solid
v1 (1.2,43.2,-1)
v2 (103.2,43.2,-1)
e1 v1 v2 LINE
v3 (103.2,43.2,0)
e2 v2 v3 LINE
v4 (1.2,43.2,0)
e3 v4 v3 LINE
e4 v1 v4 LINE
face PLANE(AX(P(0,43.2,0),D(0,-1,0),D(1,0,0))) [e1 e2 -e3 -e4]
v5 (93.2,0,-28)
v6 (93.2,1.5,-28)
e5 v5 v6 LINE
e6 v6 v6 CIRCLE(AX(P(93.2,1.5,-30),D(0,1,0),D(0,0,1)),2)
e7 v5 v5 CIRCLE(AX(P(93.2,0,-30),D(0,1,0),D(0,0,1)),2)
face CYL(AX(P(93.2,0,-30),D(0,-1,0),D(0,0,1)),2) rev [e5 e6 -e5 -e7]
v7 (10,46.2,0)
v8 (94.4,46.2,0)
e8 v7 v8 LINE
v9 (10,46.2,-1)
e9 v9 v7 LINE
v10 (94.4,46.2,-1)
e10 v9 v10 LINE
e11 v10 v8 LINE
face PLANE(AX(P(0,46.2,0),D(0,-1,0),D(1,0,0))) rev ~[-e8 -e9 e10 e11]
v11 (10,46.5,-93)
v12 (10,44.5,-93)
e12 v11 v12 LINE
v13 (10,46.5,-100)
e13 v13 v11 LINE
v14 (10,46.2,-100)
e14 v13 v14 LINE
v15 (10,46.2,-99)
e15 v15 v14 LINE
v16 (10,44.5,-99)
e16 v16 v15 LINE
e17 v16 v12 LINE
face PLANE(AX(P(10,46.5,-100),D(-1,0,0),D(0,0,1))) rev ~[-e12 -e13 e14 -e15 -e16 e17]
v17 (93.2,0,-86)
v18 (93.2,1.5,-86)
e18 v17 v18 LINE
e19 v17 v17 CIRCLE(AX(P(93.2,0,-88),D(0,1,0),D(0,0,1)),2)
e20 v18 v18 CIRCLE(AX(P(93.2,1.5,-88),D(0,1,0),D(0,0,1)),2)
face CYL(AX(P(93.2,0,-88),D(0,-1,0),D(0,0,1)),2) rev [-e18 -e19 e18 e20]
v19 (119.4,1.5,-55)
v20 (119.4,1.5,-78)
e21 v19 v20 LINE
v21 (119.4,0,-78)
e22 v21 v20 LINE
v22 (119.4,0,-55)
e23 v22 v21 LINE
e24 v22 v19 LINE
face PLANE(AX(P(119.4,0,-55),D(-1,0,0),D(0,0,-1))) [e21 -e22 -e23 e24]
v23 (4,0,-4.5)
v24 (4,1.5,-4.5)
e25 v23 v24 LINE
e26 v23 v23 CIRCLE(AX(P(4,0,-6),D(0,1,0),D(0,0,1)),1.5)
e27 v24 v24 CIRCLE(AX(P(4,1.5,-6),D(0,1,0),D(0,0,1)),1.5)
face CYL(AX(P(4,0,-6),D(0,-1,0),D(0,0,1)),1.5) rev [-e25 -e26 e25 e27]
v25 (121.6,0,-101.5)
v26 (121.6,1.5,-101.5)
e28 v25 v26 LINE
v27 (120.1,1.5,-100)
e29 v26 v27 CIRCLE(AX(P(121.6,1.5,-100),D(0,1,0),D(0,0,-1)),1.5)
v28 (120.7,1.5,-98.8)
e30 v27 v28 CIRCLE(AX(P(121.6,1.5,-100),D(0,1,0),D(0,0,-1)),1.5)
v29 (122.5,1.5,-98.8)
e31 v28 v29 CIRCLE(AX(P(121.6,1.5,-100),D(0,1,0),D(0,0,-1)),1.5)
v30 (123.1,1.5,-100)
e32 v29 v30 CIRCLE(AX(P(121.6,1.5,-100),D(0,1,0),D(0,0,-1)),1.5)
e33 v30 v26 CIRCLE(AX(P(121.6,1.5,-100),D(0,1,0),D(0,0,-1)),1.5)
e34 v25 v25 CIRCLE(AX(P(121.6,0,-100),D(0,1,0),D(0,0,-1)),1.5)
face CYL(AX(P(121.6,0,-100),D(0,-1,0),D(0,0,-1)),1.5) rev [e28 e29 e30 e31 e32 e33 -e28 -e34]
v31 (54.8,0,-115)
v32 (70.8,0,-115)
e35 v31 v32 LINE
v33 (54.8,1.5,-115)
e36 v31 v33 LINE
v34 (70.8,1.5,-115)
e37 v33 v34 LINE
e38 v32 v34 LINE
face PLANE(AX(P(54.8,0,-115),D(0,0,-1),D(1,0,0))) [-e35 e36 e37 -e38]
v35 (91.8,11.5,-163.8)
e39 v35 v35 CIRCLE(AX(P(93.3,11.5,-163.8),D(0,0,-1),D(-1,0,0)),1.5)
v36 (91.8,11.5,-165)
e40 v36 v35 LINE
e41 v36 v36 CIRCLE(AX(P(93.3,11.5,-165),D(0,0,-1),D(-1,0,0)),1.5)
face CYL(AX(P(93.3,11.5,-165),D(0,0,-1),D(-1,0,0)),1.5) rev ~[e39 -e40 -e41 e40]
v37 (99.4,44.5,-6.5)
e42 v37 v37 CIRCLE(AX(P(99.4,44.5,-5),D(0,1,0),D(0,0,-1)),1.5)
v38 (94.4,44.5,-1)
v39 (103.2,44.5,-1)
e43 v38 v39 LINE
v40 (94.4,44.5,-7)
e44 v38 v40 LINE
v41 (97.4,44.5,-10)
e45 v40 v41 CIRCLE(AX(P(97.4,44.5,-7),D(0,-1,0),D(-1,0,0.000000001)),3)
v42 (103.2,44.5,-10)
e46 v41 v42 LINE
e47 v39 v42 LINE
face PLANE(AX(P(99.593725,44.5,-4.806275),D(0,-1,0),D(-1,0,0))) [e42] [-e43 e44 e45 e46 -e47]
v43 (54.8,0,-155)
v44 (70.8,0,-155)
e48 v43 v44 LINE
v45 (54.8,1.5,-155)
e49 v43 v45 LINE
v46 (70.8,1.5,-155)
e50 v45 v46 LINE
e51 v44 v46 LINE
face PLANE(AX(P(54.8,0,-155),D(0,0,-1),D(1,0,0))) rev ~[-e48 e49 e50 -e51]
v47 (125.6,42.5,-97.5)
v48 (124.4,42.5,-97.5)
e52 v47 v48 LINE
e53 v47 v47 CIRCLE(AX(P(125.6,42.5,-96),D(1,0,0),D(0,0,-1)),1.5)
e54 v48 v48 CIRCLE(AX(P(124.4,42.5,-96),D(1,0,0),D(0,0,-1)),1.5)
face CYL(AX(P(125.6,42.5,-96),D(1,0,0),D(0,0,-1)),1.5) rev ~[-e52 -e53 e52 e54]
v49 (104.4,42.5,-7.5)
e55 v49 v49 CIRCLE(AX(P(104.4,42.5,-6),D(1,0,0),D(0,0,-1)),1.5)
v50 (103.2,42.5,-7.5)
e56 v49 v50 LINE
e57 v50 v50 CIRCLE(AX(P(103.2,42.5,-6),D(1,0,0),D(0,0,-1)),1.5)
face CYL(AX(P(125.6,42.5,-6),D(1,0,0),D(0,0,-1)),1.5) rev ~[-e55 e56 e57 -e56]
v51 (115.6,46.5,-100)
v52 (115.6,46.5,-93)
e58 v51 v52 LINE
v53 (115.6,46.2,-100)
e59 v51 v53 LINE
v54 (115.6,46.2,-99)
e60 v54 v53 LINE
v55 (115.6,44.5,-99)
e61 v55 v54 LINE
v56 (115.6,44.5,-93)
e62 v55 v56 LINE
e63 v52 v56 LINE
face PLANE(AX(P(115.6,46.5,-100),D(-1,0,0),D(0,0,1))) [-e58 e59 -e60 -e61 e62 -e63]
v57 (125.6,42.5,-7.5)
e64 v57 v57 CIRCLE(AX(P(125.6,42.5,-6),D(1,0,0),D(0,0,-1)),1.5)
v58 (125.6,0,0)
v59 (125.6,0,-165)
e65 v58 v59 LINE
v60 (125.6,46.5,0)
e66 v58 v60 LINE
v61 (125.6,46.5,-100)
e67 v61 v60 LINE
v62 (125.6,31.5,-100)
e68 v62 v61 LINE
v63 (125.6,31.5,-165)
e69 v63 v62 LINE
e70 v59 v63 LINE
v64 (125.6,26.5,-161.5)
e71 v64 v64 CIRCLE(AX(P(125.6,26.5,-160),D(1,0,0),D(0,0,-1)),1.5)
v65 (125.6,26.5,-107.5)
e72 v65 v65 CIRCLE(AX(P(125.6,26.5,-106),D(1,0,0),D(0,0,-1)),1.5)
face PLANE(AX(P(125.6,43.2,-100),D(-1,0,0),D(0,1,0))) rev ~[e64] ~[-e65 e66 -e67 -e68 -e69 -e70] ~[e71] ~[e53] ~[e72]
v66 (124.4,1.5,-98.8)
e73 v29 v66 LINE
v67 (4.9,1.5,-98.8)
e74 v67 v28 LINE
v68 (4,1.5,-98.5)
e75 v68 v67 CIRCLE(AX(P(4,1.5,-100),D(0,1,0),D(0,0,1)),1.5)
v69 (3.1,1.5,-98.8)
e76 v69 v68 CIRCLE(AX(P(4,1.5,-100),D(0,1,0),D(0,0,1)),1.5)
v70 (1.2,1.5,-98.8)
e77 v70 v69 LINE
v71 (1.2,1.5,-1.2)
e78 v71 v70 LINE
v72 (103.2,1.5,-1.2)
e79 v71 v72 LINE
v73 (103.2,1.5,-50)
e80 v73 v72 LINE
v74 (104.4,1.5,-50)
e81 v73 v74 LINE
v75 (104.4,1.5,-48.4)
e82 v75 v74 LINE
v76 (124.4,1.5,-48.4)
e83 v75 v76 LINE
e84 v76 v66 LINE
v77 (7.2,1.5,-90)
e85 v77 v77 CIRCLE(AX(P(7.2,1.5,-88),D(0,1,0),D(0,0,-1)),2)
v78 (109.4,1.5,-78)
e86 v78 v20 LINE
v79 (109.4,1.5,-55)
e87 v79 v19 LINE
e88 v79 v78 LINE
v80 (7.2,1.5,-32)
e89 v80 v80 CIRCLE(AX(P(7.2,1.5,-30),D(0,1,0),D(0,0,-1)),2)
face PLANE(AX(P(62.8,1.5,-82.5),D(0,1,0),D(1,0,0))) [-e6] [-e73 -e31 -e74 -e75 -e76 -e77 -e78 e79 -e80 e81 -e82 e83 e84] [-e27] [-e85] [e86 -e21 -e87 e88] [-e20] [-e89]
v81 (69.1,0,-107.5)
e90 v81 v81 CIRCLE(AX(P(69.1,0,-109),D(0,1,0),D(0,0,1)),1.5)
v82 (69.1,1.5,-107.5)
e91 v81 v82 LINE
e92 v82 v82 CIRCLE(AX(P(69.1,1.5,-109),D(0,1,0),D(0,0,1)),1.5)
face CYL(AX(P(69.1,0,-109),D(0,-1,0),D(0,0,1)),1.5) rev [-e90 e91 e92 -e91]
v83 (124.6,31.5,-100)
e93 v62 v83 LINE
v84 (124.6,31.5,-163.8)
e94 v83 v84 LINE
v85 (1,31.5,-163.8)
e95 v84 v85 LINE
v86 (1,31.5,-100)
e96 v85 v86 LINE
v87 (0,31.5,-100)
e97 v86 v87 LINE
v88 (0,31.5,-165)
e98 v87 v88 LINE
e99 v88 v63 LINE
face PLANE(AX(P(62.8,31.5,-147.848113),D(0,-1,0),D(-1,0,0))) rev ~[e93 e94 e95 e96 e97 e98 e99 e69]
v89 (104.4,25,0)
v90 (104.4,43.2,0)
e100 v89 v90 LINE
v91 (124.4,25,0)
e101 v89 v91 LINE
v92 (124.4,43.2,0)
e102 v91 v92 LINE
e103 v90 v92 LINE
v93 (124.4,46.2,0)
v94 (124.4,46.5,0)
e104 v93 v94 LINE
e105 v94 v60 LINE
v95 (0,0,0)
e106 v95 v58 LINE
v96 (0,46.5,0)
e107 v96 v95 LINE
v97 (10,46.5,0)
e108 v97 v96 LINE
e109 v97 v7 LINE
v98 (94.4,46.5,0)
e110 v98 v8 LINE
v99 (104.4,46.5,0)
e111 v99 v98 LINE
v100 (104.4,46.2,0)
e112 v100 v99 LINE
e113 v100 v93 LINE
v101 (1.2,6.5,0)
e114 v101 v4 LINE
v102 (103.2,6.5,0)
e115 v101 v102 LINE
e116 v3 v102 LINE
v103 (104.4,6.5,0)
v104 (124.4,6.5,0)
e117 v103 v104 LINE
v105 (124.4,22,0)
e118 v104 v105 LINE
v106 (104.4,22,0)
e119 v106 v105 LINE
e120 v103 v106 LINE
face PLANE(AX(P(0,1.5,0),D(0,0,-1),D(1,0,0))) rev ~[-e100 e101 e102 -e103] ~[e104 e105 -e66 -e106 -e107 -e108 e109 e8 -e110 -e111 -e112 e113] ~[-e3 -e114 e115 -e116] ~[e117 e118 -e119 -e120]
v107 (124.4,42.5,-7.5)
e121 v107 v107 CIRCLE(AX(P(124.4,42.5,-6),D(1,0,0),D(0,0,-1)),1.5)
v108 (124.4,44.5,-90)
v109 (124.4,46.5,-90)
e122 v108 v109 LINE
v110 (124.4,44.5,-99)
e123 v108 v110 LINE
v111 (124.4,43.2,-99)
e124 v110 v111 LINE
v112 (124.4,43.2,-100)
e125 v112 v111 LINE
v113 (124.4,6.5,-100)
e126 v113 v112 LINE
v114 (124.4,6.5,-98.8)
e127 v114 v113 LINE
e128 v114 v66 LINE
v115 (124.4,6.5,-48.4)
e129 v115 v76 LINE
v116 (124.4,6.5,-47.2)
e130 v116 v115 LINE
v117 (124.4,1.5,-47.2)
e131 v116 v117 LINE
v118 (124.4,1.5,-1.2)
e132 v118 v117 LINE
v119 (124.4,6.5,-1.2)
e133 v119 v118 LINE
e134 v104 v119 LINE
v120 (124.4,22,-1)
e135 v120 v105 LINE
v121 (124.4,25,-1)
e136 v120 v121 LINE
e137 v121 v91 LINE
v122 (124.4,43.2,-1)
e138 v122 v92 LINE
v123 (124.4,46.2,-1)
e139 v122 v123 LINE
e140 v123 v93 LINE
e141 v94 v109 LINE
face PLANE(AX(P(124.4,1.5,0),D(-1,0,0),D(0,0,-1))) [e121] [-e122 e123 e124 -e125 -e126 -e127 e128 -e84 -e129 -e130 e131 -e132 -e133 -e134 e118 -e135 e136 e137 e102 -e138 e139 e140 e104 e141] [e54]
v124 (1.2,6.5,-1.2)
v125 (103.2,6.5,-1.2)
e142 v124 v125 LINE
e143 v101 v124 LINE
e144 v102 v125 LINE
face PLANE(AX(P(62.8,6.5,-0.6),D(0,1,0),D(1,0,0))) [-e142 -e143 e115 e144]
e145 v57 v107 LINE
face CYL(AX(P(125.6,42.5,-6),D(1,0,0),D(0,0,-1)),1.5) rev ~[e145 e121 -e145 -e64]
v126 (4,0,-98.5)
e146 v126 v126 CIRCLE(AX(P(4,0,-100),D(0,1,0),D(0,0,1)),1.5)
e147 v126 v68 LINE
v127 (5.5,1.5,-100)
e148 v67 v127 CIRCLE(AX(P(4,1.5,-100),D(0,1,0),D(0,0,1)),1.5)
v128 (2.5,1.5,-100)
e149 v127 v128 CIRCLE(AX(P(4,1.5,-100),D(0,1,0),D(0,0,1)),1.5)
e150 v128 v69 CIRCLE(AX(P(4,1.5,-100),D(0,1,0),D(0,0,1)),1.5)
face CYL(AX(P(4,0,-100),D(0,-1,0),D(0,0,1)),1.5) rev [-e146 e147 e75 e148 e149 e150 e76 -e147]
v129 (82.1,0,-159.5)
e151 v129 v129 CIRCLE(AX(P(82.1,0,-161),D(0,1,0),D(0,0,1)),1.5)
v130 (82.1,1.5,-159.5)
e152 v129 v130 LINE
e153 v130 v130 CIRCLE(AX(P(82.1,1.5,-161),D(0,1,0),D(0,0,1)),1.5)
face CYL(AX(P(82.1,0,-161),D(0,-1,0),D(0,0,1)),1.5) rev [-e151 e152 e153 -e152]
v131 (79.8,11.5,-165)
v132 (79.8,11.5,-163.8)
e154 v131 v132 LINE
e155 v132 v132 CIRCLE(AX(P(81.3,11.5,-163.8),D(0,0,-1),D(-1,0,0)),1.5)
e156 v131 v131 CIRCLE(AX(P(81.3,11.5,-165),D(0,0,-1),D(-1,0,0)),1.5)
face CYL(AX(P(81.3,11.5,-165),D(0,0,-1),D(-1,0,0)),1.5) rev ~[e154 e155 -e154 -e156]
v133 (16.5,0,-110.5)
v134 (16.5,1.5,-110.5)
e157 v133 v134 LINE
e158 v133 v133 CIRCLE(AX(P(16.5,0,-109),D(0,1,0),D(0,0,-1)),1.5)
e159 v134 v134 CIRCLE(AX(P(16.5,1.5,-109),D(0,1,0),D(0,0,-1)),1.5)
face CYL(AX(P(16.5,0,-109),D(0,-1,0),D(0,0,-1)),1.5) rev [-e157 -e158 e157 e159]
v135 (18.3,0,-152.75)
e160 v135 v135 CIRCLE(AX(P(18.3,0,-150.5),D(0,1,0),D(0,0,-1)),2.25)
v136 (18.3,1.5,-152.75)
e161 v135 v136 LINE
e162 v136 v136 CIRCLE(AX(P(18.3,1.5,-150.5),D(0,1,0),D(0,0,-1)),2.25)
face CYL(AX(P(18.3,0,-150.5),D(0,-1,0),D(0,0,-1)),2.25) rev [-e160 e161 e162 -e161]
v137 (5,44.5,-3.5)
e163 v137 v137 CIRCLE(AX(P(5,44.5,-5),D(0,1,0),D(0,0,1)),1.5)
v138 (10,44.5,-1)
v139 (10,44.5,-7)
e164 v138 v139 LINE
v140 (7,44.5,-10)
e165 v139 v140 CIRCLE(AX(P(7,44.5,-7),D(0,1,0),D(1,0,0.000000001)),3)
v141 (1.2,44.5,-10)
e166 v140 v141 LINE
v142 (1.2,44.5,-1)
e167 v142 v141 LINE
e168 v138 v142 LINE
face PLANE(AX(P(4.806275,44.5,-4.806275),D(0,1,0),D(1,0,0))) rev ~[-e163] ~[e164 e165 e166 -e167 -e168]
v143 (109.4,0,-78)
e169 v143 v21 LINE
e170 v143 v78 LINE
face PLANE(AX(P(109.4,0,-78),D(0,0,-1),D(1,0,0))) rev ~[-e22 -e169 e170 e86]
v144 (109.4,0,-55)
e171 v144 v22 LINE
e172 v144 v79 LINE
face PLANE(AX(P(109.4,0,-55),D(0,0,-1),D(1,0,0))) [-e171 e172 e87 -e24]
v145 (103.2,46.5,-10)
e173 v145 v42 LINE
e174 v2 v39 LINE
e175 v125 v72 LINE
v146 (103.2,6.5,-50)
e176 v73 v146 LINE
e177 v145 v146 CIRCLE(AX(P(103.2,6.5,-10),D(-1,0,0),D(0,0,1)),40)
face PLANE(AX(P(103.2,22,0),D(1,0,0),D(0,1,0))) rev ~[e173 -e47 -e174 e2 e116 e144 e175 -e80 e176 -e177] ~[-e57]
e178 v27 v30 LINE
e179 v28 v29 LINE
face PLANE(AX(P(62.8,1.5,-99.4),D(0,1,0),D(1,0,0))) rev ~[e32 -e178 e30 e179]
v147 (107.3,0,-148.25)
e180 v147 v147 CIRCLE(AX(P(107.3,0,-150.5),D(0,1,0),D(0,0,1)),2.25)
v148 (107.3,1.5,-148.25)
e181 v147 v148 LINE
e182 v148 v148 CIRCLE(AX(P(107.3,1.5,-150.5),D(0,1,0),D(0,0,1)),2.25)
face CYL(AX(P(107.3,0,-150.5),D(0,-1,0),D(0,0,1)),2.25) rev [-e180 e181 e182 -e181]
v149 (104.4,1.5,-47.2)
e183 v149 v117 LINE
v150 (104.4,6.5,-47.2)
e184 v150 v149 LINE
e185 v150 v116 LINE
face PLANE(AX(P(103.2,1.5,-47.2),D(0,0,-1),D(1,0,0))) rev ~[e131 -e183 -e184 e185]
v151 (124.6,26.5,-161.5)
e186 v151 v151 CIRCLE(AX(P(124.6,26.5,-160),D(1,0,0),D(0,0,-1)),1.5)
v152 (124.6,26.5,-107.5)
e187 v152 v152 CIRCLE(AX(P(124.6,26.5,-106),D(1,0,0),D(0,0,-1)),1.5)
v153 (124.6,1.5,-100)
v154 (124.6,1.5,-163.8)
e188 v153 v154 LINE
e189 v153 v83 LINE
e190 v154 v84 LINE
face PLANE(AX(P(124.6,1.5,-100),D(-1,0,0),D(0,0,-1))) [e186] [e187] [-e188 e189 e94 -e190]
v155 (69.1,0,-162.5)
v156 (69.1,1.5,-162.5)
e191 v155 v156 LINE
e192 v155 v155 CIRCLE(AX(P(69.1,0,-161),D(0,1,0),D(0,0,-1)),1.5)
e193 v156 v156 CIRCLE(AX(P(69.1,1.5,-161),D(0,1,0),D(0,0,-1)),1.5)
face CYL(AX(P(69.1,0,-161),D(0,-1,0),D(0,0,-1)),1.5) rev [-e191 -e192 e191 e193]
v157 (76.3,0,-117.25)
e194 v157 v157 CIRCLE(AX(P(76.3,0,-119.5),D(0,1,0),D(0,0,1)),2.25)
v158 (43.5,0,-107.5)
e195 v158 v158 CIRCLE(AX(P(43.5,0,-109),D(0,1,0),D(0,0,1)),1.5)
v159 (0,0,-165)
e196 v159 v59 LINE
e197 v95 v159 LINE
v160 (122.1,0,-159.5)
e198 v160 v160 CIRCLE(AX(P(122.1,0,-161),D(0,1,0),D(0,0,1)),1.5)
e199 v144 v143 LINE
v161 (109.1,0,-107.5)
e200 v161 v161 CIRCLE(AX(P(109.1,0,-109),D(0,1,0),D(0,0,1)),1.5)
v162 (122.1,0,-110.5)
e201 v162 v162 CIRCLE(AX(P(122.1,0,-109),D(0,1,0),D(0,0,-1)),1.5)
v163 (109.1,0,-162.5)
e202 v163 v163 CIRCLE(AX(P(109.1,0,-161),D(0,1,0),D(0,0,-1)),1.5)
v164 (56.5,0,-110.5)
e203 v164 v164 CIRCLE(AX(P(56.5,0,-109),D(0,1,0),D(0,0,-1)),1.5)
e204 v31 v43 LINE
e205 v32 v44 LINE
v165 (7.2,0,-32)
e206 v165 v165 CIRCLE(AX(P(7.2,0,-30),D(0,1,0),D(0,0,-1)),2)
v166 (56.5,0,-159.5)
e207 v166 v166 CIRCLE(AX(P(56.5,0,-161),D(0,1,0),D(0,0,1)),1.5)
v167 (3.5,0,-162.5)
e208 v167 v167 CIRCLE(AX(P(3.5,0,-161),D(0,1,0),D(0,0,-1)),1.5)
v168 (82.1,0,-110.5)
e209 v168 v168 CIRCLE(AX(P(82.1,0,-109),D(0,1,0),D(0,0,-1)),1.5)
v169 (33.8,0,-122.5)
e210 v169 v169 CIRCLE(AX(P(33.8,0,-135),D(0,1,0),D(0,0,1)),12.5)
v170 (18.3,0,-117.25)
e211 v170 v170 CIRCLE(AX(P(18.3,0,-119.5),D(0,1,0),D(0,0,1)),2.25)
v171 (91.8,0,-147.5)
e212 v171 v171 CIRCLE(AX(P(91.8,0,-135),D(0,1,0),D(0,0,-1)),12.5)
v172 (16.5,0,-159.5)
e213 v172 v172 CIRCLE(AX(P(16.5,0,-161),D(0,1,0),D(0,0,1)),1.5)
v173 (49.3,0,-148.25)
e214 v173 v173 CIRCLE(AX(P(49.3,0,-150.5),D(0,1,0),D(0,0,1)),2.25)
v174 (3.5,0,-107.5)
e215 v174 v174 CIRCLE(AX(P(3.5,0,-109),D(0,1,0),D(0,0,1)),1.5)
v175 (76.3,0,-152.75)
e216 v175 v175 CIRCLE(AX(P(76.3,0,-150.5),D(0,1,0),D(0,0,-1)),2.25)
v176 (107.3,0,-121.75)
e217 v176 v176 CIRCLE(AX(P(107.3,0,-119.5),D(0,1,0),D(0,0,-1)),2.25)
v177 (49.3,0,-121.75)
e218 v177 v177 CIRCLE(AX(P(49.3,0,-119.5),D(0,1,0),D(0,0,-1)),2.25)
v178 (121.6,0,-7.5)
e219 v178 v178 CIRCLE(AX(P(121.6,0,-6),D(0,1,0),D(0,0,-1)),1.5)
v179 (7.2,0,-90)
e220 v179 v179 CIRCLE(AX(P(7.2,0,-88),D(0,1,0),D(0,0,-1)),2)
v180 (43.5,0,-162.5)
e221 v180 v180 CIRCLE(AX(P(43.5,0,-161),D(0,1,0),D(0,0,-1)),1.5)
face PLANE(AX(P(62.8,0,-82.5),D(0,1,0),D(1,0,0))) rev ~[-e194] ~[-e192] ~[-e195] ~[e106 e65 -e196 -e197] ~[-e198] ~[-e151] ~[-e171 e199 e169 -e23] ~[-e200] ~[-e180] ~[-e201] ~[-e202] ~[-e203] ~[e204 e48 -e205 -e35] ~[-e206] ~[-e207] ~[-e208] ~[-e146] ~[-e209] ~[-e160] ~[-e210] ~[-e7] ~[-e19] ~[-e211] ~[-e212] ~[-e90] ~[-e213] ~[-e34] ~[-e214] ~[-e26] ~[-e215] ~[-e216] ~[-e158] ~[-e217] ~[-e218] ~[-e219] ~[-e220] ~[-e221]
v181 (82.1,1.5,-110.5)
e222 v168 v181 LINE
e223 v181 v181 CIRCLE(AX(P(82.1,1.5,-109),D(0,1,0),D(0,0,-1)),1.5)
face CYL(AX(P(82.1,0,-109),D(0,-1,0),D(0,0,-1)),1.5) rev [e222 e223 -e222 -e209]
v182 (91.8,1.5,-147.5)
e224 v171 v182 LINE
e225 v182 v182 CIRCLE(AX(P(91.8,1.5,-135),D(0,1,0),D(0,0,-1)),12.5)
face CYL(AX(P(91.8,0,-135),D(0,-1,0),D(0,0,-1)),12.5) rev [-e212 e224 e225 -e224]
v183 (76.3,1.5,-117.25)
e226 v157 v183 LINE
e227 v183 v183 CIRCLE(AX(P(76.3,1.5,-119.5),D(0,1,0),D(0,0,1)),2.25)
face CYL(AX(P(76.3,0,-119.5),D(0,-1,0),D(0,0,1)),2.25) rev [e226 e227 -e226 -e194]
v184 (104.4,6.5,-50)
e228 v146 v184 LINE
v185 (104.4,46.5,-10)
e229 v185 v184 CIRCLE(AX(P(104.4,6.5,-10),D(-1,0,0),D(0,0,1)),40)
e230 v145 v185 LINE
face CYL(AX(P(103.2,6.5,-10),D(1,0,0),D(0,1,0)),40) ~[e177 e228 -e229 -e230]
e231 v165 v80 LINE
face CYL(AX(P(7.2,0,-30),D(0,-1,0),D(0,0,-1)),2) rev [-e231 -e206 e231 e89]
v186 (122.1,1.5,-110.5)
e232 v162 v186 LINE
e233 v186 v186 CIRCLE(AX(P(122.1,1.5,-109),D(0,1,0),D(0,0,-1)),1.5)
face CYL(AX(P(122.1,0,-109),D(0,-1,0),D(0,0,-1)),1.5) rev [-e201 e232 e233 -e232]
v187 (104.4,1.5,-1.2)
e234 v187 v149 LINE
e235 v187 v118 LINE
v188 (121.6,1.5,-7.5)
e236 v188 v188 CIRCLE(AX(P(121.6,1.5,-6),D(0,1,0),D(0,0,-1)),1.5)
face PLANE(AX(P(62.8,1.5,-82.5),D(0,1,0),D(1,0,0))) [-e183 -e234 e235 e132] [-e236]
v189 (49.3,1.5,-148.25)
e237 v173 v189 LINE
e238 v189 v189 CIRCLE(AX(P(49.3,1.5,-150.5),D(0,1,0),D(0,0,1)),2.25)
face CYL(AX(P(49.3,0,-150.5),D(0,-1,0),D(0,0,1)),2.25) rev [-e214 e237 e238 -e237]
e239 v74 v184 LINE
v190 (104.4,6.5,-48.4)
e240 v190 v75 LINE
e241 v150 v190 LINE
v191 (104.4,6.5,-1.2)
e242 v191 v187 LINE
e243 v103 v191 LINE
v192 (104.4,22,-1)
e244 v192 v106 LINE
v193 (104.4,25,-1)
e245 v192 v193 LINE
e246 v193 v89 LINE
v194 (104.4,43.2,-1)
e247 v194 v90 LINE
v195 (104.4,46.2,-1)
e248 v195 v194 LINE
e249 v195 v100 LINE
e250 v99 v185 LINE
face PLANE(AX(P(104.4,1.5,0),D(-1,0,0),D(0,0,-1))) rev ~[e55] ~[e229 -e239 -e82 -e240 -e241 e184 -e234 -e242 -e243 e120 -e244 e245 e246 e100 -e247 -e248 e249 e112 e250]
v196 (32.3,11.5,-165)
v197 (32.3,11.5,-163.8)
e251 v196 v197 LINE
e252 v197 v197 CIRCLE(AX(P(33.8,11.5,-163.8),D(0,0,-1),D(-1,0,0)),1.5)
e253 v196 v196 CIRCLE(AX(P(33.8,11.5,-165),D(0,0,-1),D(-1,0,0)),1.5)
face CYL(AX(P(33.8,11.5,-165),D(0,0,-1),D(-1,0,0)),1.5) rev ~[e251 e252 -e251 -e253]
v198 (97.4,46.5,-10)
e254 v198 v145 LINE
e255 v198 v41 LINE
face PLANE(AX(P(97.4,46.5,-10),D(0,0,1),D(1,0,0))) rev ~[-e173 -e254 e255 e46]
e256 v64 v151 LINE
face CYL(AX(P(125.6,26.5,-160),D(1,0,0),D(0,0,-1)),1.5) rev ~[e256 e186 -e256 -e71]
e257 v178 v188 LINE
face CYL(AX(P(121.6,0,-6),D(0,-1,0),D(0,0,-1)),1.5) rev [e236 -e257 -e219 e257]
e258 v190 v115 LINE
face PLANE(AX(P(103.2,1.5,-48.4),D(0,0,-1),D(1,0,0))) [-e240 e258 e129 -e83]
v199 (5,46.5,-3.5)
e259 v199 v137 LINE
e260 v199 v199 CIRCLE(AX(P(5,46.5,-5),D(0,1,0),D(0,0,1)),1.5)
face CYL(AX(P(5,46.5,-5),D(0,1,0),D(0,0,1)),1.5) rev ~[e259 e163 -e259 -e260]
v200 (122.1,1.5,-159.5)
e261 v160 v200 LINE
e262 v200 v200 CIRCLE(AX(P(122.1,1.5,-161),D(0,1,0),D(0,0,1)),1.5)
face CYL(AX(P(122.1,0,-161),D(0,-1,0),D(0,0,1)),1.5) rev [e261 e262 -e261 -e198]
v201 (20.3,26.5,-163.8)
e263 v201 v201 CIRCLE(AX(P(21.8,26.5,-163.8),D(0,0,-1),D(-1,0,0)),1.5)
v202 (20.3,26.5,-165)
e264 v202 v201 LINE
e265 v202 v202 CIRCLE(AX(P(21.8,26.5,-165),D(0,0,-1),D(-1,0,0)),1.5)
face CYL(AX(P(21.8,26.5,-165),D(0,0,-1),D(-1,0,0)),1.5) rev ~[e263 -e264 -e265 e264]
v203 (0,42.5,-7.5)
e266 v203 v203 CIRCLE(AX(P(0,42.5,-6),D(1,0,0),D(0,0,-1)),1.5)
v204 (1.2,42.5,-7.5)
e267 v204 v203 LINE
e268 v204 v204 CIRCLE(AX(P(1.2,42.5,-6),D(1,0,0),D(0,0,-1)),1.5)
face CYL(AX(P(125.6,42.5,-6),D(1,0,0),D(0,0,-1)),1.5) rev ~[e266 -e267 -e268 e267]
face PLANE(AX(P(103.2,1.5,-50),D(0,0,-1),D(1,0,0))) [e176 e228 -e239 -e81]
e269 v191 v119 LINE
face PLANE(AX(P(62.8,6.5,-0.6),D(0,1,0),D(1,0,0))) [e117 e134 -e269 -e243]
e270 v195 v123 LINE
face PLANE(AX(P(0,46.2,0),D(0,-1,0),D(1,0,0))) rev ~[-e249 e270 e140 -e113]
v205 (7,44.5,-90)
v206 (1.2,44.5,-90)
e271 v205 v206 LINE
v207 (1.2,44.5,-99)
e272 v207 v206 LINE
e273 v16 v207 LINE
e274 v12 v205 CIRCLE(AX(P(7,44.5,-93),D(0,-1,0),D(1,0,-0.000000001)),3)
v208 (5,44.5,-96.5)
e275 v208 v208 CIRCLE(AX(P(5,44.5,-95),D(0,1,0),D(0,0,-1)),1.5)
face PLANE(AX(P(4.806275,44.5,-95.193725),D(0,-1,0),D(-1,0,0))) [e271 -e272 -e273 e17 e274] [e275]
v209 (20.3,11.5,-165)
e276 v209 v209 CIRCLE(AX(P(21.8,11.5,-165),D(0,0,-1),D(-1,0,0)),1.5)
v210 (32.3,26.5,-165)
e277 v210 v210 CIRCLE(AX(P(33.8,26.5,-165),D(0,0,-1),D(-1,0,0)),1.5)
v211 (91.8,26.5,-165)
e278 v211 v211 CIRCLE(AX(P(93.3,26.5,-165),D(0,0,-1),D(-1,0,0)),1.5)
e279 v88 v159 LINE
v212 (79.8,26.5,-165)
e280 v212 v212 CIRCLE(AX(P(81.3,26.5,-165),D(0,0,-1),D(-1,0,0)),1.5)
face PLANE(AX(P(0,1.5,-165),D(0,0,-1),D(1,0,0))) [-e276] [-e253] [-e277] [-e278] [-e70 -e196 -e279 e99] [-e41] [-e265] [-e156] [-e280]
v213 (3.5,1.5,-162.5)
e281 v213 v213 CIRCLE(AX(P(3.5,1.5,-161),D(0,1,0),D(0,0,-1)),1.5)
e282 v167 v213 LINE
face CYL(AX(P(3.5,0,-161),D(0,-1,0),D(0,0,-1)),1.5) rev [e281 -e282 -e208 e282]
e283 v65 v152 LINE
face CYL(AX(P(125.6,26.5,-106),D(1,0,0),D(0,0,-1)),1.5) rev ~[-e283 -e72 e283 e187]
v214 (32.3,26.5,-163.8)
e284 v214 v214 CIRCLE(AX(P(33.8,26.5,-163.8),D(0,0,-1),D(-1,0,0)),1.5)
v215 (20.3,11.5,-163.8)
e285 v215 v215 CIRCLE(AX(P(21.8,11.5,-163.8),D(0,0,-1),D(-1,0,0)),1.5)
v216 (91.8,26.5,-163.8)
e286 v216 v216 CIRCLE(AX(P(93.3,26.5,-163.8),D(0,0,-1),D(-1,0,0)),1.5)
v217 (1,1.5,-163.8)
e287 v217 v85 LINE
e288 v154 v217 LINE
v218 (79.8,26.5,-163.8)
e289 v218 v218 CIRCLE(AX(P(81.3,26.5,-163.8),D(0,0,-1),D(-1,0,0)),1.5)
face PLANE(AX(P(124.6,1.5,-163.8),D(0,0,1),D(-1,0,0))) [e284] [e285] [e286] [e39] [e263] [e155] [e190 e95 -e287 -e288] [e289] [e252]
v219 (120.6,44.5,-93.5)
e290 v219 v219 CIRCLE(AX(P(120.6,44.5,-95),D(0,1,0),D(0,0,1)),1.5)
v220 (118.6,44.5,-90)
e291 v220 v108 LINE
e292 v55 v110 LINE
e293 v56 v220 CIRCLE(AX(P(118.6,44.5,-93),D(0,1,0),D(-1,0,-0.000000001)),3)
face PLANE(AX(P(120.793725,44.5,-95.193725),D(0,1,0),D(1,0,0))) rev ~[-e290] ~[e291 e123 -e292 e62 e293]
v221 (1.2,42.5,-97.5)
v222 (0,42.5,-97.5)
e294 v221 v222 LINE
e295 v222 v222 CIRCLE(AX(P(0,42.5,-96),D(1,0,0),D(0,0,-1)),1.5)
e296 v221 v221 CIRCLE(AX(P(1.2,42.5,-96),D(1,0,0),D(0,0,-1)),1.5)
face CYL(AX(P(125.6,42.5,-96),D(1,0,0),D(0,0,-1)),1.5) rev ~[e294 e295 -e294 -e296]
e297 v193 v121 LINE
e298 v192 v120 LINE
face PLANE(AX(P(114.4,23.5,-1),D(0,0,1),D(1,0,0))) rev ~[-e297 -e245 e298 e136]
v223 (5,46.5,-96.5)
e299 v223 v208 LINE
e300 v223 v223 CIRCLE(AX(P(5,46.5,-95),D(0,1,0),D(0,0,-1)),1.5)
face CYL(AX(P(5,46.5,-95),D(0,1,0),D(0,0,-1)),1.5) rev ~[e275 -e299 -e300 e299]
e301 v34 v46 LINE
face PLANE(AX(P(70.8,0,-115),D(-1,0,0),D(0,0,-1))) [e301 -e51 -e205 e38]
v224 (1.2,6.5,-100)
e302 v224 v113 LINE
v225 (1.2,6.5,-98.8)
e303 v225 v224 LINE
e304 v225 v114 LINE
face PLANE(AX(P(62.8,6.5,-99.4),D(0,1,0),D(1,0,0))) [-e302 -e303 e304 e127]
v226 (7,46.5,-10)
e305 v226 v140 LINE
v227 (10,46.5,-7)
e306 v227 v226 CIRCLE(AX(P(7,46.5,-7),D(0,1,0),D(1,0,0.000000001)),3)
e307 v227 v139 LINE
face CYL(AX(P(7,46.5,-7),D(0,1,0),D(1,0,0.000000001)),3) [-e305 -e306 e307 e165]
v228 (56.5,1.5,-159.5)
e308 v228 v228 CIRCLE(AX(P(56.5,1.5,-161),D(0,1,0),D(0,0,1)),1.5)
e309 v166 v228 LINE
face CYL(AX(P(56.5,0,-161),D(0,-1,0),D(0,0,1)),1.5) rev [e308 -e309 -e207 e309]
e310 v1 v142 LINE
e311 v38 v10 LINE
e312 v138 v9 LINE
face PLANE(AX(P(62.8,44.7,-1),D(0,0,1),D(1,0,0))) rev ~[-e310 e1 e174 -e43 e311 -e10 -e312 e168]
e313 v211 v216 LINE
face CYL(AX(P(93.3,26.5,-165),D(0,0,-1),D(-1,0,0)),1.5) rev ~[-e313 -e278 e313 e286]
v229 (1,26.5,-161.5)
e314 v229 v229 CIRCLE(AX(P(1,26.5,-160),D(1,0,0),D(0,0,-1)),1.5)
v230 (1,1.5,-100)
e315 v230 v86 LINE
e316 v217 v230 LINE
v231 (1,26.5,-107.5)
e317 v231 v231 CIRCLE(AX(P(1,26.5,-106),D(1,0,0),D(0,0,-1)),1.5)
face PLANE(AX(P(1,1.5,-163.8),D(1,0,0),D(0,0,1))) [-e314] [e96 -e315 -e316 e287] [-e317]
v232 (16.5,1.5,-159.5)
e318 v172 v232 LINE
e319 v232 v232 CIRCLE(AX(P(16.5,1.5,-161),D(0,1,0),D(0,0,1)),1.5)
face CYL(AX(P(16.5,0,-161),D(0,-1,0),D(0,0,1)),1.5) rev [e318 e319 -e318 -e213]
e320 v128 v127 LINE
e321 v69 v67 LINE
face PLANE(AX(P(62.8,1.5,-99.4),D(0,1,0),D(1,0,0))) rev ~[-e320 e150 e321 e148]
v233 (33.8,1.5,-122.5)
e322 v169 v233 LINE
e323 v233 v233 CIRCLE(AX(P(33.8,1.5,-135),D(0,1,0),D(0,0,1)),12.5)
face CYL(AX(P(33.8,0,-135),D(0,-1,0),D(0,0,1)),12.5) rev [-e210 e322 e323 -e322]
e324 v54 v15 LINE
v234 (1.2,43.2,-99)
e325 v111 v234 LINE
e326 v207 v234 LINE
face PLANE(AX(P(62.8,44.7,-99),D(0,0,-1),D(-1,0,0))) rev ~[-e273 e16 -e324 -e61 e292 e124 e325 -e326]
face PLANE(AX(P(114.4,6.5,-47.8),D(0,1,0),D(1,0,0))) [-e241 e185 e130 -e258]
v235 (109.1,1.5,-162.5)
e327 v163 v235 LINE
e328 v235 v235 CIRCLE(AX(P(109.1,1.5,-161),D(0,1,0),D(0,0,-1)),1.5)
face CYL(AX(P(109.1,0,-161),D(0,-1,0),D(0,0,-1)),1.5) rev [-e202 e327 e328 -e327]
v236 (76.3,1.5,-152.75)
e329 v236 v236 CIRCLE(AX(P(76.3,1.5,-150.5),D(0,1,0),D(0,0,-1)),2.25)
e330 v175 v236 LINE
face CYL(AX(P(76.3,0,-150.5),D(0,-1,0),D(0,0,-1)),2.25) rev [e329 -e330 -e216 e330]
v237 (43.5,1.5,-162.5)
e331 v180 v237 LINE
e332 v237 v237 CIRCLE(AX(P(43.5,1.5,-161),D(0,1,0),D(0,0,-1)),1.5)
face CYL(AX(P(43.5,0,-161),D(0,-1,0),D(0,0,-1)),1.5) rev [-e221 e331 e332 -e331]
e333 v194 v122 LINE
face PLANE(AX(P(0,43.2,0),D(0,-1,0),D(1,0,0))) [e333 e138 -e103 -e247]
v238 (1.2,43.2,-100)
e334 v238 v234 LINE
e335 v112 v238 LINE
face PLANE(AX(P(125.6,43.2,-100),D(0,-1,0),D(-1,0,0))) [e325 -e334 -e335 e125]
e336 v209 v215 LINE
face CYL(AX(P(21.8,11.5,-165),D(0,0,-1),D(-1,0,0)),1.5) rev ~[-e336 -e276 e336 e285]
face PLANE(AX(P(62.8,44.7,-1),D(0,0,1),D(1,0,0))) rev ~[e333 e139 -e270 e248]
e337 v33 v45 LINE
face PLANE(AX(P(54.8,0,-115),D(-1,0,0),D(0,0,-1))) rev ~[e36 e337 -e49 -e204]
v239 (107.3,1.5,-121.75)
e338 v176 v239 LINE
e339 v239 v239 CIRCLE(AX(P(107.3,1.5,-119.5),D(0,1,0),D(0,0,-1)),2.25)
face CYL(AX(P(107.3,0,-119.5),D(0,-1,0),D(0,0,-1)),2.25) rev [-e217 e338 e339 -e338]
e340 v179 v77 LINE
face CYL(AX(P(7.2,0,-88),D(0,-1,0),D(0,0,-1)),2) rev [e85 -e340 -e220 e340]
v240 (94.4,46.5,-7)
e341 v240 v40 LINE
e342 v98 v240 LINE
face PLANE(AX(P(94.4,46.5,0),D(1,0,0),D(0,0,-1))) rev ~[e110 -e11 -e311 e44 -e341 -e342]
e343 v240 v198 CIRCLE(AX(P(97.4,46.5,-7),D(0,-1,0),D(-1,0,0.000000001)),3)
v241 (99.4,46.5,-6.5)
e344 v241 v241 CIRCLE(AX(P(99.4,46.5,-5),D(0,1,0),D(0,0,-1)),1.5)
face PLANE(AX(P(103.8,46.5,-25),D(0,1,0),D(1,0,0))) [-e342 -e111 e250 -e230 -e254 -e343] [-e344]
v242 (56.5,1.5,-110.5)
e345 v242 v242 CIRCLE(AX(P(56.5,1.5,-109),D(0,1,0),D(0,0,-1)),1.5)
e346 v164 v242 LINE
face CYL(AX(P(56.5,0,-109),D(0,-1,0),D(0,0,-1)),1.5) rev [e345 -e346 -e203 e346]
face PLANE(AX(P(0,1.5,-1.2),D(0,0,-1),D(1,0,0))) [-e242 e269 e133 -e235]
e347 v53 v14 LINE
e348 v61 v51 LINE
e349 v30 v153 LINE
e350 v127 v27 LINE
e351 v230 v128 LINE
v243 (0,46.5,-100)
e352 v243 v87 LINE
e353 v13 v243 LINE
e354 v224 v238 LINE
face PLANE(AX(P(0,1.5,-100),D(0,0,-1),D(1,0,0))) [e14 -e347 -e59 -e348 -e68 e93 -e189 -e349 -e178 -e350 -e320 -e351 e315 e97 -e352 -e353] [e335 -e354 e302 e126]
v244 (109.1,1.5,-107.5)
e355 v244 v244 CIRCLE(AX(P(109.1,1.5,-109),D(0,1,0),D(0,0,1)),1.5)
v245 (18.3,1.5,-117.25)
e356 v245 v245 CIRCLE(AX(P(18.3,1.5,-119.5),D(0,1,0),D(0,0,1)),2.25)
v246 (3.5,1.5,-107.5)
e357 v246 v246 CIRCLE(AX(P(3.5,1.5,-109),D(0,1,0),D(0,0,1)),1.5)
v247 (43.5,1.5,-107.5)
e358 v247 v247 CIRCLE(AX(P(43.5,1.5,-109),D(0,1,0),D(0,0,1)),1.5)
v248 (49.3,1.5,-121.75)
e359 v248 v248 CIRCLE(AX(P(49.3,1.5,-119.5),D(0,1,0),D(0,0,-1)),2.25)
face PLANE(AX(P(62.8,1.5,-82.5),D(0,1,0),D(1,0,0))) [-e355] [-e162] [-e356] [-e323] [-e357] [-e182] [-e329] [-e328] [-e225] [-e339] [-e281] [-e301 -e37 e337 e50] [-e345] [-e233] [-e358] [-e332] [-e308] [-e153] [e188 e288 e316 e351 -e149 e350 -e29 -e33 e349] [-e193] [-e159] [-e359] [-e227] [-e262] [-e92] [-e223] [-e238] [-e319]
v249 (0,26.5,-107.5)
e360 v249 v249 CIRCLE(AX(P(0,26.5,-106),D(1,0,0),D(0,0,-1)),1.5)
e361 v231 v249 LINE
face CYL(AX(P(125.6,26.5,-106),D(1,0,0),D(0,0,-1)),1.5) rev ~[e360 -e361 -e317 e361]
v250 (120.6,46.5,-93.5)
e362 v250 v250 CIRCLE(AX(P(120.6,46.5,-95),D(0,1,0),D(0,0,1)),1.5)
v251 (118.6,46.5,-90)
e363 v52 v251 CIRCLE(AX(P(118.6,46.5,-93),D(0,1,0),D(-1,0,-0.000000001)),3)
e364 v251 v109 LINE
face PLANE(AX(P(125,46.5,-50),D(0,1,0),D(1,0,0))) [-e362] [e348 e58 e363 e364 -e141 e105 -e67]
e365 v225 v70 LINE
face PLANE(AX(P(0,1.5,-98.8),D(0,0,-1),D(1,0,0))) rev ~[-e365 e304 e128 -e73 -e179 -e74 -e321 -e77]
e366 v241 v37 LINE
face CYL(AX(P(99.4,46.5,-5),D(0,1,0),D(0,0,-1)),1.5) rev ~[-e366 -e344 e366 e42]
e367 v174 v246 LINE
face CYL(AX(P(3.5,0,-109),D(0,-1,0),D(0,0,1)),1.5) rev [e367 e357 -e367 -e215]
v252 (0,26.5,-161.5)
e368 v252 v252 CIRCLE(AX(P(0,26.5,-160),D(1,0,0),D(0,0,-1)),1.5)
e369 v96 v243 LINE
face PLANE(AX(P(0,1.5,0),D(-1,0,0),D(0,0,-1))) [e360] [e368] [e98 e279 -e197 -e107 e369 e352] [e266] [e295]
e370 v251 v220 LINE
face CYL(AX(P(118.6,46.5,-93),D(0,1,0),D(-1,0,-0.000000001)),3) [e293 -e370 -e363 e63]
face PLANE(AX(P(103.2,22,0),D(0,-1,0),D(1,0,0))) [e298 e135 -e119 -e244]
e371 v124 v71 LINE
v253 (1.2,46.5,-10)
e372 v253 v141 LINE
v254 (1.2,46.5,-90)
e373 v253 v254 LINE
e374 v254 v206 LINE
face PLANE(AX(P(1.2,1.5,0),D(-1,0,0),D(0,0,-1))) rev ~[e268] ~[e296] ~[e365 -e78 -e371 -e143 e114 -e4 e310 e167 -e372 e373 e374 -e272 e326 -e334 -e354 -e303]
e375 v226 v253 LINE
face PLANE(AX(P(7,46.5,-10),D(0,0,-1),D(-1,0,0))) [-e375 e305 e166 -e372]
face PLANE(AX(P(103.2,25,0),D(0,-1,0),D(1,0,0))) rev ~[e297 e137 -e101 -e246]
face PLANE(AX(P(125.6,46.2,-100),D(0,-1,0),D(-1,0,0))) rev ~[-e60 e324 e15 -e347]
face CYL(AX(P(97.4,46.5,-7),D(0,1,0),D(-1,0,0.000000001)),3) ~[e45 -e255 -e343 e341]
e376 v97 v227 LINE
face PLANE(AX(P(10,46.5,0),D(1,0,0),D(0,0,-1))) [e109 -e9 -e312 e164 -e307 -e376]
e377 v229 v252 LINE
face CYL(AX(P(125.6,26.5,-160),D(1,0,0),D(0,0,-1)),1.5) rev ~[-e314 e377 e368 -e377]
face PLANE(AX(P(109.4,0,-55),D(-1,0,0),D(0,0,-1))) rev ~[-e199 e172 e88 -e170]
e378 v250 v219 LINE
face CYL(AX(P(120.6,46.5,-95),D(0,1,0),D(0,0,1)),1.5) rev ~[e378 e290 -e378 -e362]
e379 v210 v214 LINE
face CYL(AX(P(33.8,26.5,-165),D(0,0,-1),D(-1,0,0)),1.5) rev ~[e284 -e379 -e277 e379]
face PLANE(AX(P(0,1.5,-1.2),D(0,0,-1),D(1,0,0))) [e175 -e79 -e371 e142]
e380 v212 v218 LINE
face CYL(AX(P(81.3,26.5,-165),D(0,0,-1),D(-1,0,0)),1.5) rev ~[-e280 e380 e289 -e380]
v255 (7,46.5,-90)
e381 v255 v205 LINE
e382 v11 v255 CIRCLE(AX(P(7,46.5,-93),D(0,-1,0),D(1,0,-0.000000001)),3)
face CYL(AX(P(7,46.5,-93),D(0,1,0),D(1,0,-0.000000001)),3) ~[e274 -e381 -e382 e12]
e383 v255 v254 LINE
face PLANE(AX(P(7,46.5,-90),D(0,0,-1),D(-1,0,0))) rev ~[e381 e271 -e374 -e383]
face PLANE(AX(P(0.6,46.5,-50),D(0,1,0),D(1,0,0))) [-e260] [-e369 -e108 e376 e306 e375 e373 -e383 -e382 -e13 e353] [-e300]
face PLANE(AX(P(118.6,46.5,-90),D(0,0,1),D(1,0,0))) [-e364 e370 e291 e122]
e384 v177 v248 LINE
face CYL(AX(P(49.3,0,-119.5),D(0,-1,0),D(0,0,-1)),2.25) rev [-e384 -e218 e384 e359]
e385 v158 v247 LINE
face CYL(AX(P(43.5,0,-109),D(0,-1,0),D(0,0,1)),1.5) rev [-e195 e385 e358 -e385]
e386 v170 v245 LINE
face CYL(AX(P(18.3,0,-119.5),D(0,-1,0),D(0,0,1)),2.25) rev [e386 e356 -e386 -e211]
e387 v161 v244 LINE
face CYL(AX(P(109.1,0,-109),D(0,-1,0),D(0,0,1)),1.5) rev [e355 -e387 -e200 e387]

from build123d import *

# Parameters (mm, degrees)
SKETCH_1_W          = 125.6
SKETCH_1_H          = 165
SKETCH_1_R          = 2
SKETCH_1_R_2        = 12.5
SKETCH_1_R_3        = 2.25
SKETCH_1_R_4        = 1.5
SKETCH_1_W_2        = 10
SKETCH_1_H_2        = 23
SKETCH_1_W_3        = 16
SKETCH_1_H_3        = 40
EXTRUDE_1_DEPTH     = 1.5
SKETCH_2_W          = 1.2
SKETCH_2_H          = 100
SKETCH_2_H_2        = 50
EXTRUDE_2_DEPTH     = 45
SKETCH_3_W          = 125.6
SKETCH_3_H          = 1.2
SKETCH_3_W_2        = 22.4
EXTRUDE_3_DEPTH     = 5
SKETCH_4_W          = 22.4
SKETCH_4_H          = 3
SKETCH_4_W_2        = 125.6
EXTRUDE_4_DEPTH     = 1
SKETCH_5_W          = 125.6
SKETCH_5_H          = 3
EXTRUDE_5_DEPTH     = 1
FILLET_1_R          = 40
SKETCH_6_R          = 1.5
EXTRUDE_6_DEPTH     = 2
EXTRUDE_7_DEPTH     = 30
CUT_EXTRUDE_1_REACH = 214.515
SKETCH_9_R          = 1.5
SKETCH_10_R         = 1.5
CUT_EXTRUDE_2_DEPTH = 213.514964179
SKETCH_11_R         = 1.5
CUT_EXTRUDE_3_DEPTH = 213.514964179


with BuildPart() as part:
    # 草图1 → 凸台-拉伸1 (new body)
    with BuildSketch(Plane(origin=(0, 0, 0), x_dir=(1, 0, 0), z_dir=(0, 1, 0))):
        with Locations((62.8, 82.5)):
            Rectangle(SKETCH_1_W, SKETCH_1_H)
        with Locations(Location((93.2, 30, 0), (0, 0, 270))):
            Circle(SKETCH_1_R, mode=Mode.SUBTRACT)
        with Locations(Location((93.2, 88, 0), (0, 0, 270))):
            Circle(SKETCH_1_R, mode=Mode.SUBTRACT)
        with Locations(Location((7.2, 30, 0), (0, 0, 90))):
            Circle(SKETCH_1_R, mode=Mode.SUBTRACT)
        with Locations(Location((7.2, 88, 0), (0, 0, 90))):
            Circle(SKETCH_1_R, mode=Mode.SUBTRACT)
        with Locations(Location((33.8, 135, 0), (0, 0, 270))):
            Circle(SKETCH_1_R_2, mode=Mode.SUBTRACT)
        with Locations(Location((91.8, 135, 0), (0, 0, 90))):
            Circle(SKETCH_1_R_2, mode=Mode.SUBTRACT)
        with Locations(Location((49.3, 150.5, 0), (0, 0, 270))):
            Circle(SKETCH_1_R_3, mode=Mode.SUBTRACT)
        with Locations(Location((18.3, 150.5, 0), (0, 0, 90))):
            Circle(SKETCH_1_R_3, mode=Mode.SUBTRACT)
        with Locations(Location((49.3, 119.5, 0), (0, 0, 90))):
            Circle(SKETCH_1_R_3, mode=Mode.SUBTRACT)
        with Locations(Location((18.3, 119.5, 0), (0, 0, 270))):
            Circle(SKETCH_1_R_3, mode=Mode.SUBTRACT)
        with Locations(Location((107.3, 119.5, 0), (0, 0, 90))):
            Circle(SKETCH_1_R_3, mode=Mode.SUBTRACT)
        with Locations(Location((76.3, 119.5, 0), (0, 0, 270))):
            Circle(SKETCH_1_R_3, mode=Mode.SUBTRACT)
        with Locations(Location((107.3, 150.5, 0), (0, 0, 270))):
            Circle(SKETCH_1_R_3, mode=Mode.SUBTRACT)
        with Locations(Location((76.3, 150.5, 0), (0, 0, 90))):
            Circle(SKETCH_1_R_3, mode=Mode.SUBTRACT)
        with Locations(Location((122.1, 161, 0), (0, 0, 270))):
            Circle(SKETCH_1_R_4, mode=Mode.SUBTRACT)
        with Locations(Location((122.1, 109, 0), (0, 0, 90))):
            Circle(SKETCH_1_R_4, mode=Mode.SUBTRACT)
        with Locations(Location((109.1, 109, 0), (0, 0, 270))):
            Circle(SKETCH_1_R_4, mode=Mode.SUBTRACT)
        with Locations(Location((109.1, 161, 0), (0, 0, 90))):
            Circle(SKETCH_1_R_4, mode=Mode.SUBTRACT)
        with Locations(Location((16.5, 109, 0), (0, 0, 90))):
            Circle(SKETCH_1_R_4, mode=Mode.SUBTRACT)
        with Locations(Location((3.5, 109, 0), (0, 0, 270))):
            Circle(SKETCH_1_R_4, mode=Mode.SUBTRACT)
        with Locations(Location((16.5, 161, 0), (0, 0, 270))):
            Circle(SKETCH_1_R_4, mode=Mode.SUBTRACT)
        with Locations(Location((3.5, 161, 0), (0, 0, 90))):
            Circle(SKETCH_1_R_4, mode=Mode.SUBTRACT)
        with Locations(Location((69.1, 109, 0), (0, 0, 270))):
            Circle(SKETCH_1_R_4, mode=Mode.SUBTRACT)
        with Locations(Location((82.1, 109, 0), (0, 0, 90))):
            Circle(SKETCH_1_R_4, mode=Mode.SUBTRACT)
        with Locations(Location((82.1, 161, 0), (0, 0, 270))):
            Circle(SKETCH_1_R_4, mode=Mode.SUBTRACT)
        with Locations(Location((69.1, 161, 0), (0, 0, 90))):
            Circle(SKETCH_1_R_4, mode=Mode.SUBTRACT)
        with Locations(Location((56.5, 161, 0), (0, 0, 270))):
            Circle(SKETCH_1_R_4, mode=Mode.SUBTRACT)
        with Locations(Location((43.5, 161, 0), (0, 0, 90))):
            Circle(SKETCH_1_R_4, mode=Mode.SUBTRACT)
        with Locations(Location((56.5, 109, 0), (0, 0, 90))):
            Circle(SKETCH_1_R_4, mode=Mode.SUBTRACT)
        with Locations(Location((43.5, 109, 0), (0, 0, 270))):
            Circle(SKETCH_1_R_4, mode=Mode.SUBTRACT)
        with Locations(Location((4, 100, 0), (0, 0, 270))):
            Circle(SKETCH_1_R_4, mode=Mode.SUBTRACT)
        with Locations(Location((4, 6, 0), (0, 0, 270))):
            Circle(SKETCH_1_R_4, mode=Mode.SUBTRACT)
        with Locations(Location((121.6, 6, 0), (0, 0, 90))):
            Circle(SKETCH_1_R_4, mode=Mode.SUBTRACT)
        with Locations(Location((121.6, 100, 0), (0, 0, 90))):
            Circle(SKETCH_1_R_4, mode=Mode.SUBTRACT)
        with Locations((114.4, 66.5)):
            Rectangle(SKETCH_1_W_2, SKETCH_1_H_2, mode=Mode.SUBTRACT)
        with Locations((62.8, 135)):
            Rectangle(SKETCH_1_W_3, SKETCH_1_H_3, mode=Mode.SUBTRACT)
    extrude(amount=EXTRUDE_1_DEPTH)

    # 草图2 → 凸台-拉伸2 (add)
    with BuildSketch(Plane(origin=(0, 1.5, 0), x_dir=(1, 0, 0), z_dir=(0, 1, 0))):
        with Locations((0.6, 50)):
            Rectangle(SKETCH_2_W, SKETCH_2_H)
        with Locations((103.8, 25)):
            Rectangle(SKETCH_2_W, SKETCH_2_H_2)
        with Locations((125, 50)):
            Rectangle(SKETCH_2_W, SKETCH_2_H)
    extrude(amount=EXTRUDE_2_DEPTH)

    # 草图3 → 凸台-拉伸3 (add)
    with BuildSketch(Plane(origin=(0, 1.5, 0), x_dir=(1, 0, 0), z_dir=(0, 1, 0))):
        with Locations((62.8, 0.6)):
            Rectangle(SKETCH_3_W, SKETCH_3_H)
        with Locations((62.8, 99.4)):
            Rectangle(SKETCH_3_W, SKETCH_3_H)
        with Locations((114.4, 47.8)):
            Rectangle(SKETCH_3_W_2, SKETCH_3_H)
    extrude(amount=EXTRUDE_3_DEPTH)

    # 草图4 → 凸台-拉伸4 (add)
    with BuildSketch(Plane.XY):
        with Locations((114.4, 23.5)):
            Rectangle(SKETCH_4_W, SKETCH_4_H)
        with Locations((62.8, 44.7)):
            Rectangle(SKETCH_4_W_2, SKETCH_4_H)
    extrude(amount=-EXTRUDE_4_DEPTH)

    # 草图5 → 凸台-拉伸5 (add)
    with BuildSketch(Plane(origin=(0, 0, -100), x_dir=(-1, 0, 0), z_dir=(0, 0, -1))):
        with Locations((-62.8, 44.7)):
            Rectangle(SKETCH_5_W, SKETCH_5_H)
    extrude(amount=-EXTRUDE_5_DEPTH)

    # 圆角1
    fillet_1_edges = [part.edges().sort_by_distance(p)[0] for p in [
        (103.8, 46.5, -50),
    ]]
    fillet(fillet_1_edges, radius=FILLET_1_R)

    # 草图6 → 凸台-拉伸6 (add)
    # profile 1 of 4: a face of its own
    with BuildSketch(Plane(origin=(0, 46.5, 0), x_dir=(1, 0, 0), z_dir=(0, 1, 0))):
        with BuildLine():
            Line((0, 0), (10, 0))
            Line((10, 0), (10, 7))
            ThreePointArc((10, 7), (9.121320344, 9.121320344), (7, 10))
            Line((7, 10), (0, 10))
            Line((0, 10), (0, 0))
        make_face()
        with Locations(Location((5, 5, 0), (0, 0, 270))):
            Circle(SKETCH_6_R, mode=Mode.SUBTRACT)
    # profile 2 of 4: a face of its own
    with BuildSketch(Plane(origin=(0, 46.5, 0), x_dir=(1, 0, 0), z_dir=(0, 1, 0))):
        with BuildLine():
            Line((10, 100), (10, 93))
            ThreePointArc((10, 93), (9.121320344, 90.878679656), (7, 90))
            Line((7, 90), (0, 90))
            Line((0, 90), (0, 100))
            Line((0, 100), (10, 100))
        make_face()
        with Locations(Location((5, 95, 0), (0, 0, 90))):
            Circle(SKETCH_6_R, mode=Mode.SUBTRACT)
    # profile 3 of 4: a face of its own
    with BuildSketch(Plane(origin=(0, 46.5, 0), x_dir=(1, 0, 0), z_dir=(0, 1, 0))):
        with BuildLine():
            Line((94.4, 0), (94.4, 7))
            ThreePointArc((94.4, 7), (95.278679656, 9.121320344), (97.4, 10))
            Line((97.4, 10), (104.4, 10))
            Line((104.4, 10), (104.4, 0))
            Line((104.4, 0), (94.4, 0))
        make_face()
        with Locations(Location((99.4, 5, 0), (0, 0, 90))):
            Circle(SKETCH_6_R, mode=Mode.SUBTRACT)
    # profile 4 of 4: a face of its own
    with BuildSketch(Plane(origin=(0, 46.5, 0), x_dir=(1, 0, 0), z_dir=(0, 1, 0))):
        with BuildLine():
            Line((125.6, 100), (115.6, 100))
            Line((115.6, 100), (115.6, 93))
            ThreePointArc((115.6, 93), (116.478679656, 90.878679656), (118.6, 90))
            Line((118.6, 90), (125.6, 90))
            Line((125.6, 90), (125.6, 100))
        make_face()
        with Locations(Location((120.6, 95, 0), (0, 0, 270))):
            Circle(SKETCH_6_R, mode=Mode.SUBTRACT)
    extrude(amount=-EXTRUDE_6_DEPTH)

    # 草图8 → 凸台-拉伸7 (add)
    with BuildSketch(Plane(origin=(0, 1.5, 0), x_dir=(1, 0, 0), z_dir=(0, 1, 0))):
        Polygon((125.6, 100), (124.6, 100), (124.6, 163.8), (1, 163.8), (1, 100), (0, 100), (0, 165), (125.6, 165), align=None)
    extrude(amount=EXTRUDE_7_DEPTH)

    # 草图9 → 切除-拉伸1 (cut, up to next)
    with BuildSketch(Plane(origin=(0, 0, -165), x_dir=(-1, 0, 0), z_dir=(0, 0, -1)), mode=Mode.PRIVATE) as cut_extrude_1_sk1:
        with Locations((-33.8, 26.5)):
            Circle(SKETCH_9_R)
    cut_extrude_1_tool1 = extrude(cut_extrude_1_sk1.sketch, amount=-CUT_EXTRUDE_1_REACH, mode=Mode.PRIVATE) & part.part
    # 草图9 → 切除-拉伸1 (cut, up to next)
    with BuildSketch(Plane(origin=(0, 0, -165), x_dir=(-1, 0, 0), z_dir=(0, 0, -1)), mode=Mode.PRIVATE) as cut_extrude_1_sk2:
        with Locations((-21.8, 26.5)):
            Circle(SKETCH_9_R)
    cut_extrude_1_tool2 = extrude(cut_extrude_1_sk2.sketch, amount=-CUT_EXTRUDE_1_REACH, mode=Mode.PRIVATE) & part.part
    # 草图9 → 切除-拉伸1 (cut, up to next)
    with BuildSketch(Plane(origin=(0, 0, -165), x_dir=(-1, 0, 0), z_dir=(0, 0, -1)), mode=Mode.PRIVATE) as cut_extrude_1_sk3:
        with Locations((-21.8, 11.5)):
            Circle(SKETCH_9_R)
    cut_extrude_1_tool3 = extrude(cut_extrude_1_sk3.sketch, amount=-CUT_EXTRUDE_1_REACH, mode=Mode.PRIVATE) & part.part
    # 草图9 → 切除-拉伸1 (cut, up to next)
    with BuildSketch(Plane(origin=(0, 0, -165), x_dir=(-1, 0, 0), z_dir=(0, 0, -1)), mode=Mode.PRIVATE) as cut_extrude_1_sk4:
        with Locations((-33.8, 11.5)):
            Circle(SKETCH_9_R)
    cut_extrude_1_tool4 = extrude(cut_extrude_1_sk4.sketch, amount=-CUT_EXTRUDE_1_REACH, mode=Mode.PRIVATE) & part.part
    # 草图9 → 切除-拉伸1 (cut, up to next)
    with BuildSketch(Plane(origin=(0, 0, -165), x_dir=(-1, 0, 0), z_dir=(0, 0, -1)), mode=Mode.PRIVATE) as cut_extrude_1_sk5:
        with Locations((-81.3, 11.5)):
            Circle(SKETCH_9_R)
    cut_extrude_1_tool5 = extrude(cut_extrude_1_sk5.sketch, amount=-CUT_EXTRUDE_1_REACH, mode=Mode.PRIVATE) & part.part
    # 草图9 → 切除-拉伸1 (cut, up to next)
    with BuildSketch(Plane(origin=(0, 0, -165), x_dir=(-1, 0, 0), z_dir=(0, 0, -1)), mode=Mode.PRIVATE) as cut_extrude_1_sk6:
        with Locations((-93.3, 11.5)):
            Circle(SKETCH_9_R)
    cut_extrude_1_tool6 = extrude(cut_extrude_1_sk6.sketch, amount=-CUT_EXTRUDE_1_REACH, mode=Mode.PRIVATE) & part.part
    # 草图9 → 切除-拉伸1 (cut, up to next)
    with BuildSketch(Plane(origin=(0, 0, -165), x_dir=(-1, 0, 0), z_dir=(0, 0, -1)), mode=Mode.PRIVATE) as cut_extrude_1_sk7:
        with Locations((-93.3, 26.5)):
            Circle(SKETCH_9_R)
    cut_extrude_1_tool7 = extrude(cut_extrude_1_sk7.sketch, amount=-CUT_EXTRUDE_1_REACH, mode=Mode.PRIVATE) & part.part
    # 草图9 → 切除-拉伸1 (cut, up to next)
    with BuildSketch(Plane(origin=(0, 0, -165), x_dir=(-1, 0, 0), z_dir=(0, 0, -1)), mode=Mode.PRIVATE) as cut_extrude_1_sk8:
        with Locations((-81.3, 26.5)):
            Circle(SKETCH_9_R)
    cut_extrude_1_tool8 = extrude(cut_extrude_1_sk8.sketch, amount=-CUT_EXTRUDE_1_REACH, mode=Mode.PRIVATE) & part.part
    add(cut_extrude_1_tool1.solids().sort_by_distance((33.8, 26.5, -165))[0], mode=Mode.SUBTRACT)
    add(cut_extrude_1_tool2.solids().sort_by_distance((21.8, 26.5, -165))[0], mode=Mode.SUBTRACT)
    add(cut_extrude_1_tool3.solids().sort_by_distance((21.8, 11.5, -165))[0], mode=Mode.SUBTRACT)
    add(cut_extrude_1_tool4.solids().sort_by_distance((33.8, 11.5, -165))[0], mode=Mode.SUBTRACT)
    add(cut_extrude_1_tool5.solids().sort_by_distance((81.3, 11.5, -165))[0], mode=Mode.SUBTRACT)
    add(cut_extrude_1_tool6.solids().sort_by_distance((93.3, 11.5, -165))[0], mode=Mode.SUBTRACT)
    add(cut_extrude_1_tool7.solids().sort_by_distance((93.3, 26.5, -165))[0], mode=Mode.SUBTRACT)
    add(cut_extrude_1_tool8.solids().sort_by_distance((81.3, 26.5, -165))[0], mode=Mode.SUBTRACT)

    # 草图10 → 切除-拉伸2 (cut, through all)
    with BuildSketch(Plane(origin=(125.6, 0, 0), x_dir=(0, 0, -1), z_dir=(1, 0, 0))):
        with Locations((96, 42.5)):
            Circle(SKETCH_10_R)
        with Locations((6, 42.5)):
            Circle(SKETCH_10_R)
    extrude(amount=-CUT_EXTRUDE_2_DEPTH, mode=Mode.SUBTRACT)

    # 草图11 → 切除-拉伸3 (cut, through all)
    with BuildSketch(Plane(origin=(125.6, 0, 0), x_dir=(0, 0, -1), z_dir=(1, 0, 0))):
        with Locations((160, 26.5)):
            Circle(SKETCH_11_R)
        with Locations((106, 26.5)):
            Circle(SKETCH_11_R)
    extrude(amount=-CUT_EXTRUDE_3_DEPTH, mode=Mode.SUBTRACT)


solid = part.part
